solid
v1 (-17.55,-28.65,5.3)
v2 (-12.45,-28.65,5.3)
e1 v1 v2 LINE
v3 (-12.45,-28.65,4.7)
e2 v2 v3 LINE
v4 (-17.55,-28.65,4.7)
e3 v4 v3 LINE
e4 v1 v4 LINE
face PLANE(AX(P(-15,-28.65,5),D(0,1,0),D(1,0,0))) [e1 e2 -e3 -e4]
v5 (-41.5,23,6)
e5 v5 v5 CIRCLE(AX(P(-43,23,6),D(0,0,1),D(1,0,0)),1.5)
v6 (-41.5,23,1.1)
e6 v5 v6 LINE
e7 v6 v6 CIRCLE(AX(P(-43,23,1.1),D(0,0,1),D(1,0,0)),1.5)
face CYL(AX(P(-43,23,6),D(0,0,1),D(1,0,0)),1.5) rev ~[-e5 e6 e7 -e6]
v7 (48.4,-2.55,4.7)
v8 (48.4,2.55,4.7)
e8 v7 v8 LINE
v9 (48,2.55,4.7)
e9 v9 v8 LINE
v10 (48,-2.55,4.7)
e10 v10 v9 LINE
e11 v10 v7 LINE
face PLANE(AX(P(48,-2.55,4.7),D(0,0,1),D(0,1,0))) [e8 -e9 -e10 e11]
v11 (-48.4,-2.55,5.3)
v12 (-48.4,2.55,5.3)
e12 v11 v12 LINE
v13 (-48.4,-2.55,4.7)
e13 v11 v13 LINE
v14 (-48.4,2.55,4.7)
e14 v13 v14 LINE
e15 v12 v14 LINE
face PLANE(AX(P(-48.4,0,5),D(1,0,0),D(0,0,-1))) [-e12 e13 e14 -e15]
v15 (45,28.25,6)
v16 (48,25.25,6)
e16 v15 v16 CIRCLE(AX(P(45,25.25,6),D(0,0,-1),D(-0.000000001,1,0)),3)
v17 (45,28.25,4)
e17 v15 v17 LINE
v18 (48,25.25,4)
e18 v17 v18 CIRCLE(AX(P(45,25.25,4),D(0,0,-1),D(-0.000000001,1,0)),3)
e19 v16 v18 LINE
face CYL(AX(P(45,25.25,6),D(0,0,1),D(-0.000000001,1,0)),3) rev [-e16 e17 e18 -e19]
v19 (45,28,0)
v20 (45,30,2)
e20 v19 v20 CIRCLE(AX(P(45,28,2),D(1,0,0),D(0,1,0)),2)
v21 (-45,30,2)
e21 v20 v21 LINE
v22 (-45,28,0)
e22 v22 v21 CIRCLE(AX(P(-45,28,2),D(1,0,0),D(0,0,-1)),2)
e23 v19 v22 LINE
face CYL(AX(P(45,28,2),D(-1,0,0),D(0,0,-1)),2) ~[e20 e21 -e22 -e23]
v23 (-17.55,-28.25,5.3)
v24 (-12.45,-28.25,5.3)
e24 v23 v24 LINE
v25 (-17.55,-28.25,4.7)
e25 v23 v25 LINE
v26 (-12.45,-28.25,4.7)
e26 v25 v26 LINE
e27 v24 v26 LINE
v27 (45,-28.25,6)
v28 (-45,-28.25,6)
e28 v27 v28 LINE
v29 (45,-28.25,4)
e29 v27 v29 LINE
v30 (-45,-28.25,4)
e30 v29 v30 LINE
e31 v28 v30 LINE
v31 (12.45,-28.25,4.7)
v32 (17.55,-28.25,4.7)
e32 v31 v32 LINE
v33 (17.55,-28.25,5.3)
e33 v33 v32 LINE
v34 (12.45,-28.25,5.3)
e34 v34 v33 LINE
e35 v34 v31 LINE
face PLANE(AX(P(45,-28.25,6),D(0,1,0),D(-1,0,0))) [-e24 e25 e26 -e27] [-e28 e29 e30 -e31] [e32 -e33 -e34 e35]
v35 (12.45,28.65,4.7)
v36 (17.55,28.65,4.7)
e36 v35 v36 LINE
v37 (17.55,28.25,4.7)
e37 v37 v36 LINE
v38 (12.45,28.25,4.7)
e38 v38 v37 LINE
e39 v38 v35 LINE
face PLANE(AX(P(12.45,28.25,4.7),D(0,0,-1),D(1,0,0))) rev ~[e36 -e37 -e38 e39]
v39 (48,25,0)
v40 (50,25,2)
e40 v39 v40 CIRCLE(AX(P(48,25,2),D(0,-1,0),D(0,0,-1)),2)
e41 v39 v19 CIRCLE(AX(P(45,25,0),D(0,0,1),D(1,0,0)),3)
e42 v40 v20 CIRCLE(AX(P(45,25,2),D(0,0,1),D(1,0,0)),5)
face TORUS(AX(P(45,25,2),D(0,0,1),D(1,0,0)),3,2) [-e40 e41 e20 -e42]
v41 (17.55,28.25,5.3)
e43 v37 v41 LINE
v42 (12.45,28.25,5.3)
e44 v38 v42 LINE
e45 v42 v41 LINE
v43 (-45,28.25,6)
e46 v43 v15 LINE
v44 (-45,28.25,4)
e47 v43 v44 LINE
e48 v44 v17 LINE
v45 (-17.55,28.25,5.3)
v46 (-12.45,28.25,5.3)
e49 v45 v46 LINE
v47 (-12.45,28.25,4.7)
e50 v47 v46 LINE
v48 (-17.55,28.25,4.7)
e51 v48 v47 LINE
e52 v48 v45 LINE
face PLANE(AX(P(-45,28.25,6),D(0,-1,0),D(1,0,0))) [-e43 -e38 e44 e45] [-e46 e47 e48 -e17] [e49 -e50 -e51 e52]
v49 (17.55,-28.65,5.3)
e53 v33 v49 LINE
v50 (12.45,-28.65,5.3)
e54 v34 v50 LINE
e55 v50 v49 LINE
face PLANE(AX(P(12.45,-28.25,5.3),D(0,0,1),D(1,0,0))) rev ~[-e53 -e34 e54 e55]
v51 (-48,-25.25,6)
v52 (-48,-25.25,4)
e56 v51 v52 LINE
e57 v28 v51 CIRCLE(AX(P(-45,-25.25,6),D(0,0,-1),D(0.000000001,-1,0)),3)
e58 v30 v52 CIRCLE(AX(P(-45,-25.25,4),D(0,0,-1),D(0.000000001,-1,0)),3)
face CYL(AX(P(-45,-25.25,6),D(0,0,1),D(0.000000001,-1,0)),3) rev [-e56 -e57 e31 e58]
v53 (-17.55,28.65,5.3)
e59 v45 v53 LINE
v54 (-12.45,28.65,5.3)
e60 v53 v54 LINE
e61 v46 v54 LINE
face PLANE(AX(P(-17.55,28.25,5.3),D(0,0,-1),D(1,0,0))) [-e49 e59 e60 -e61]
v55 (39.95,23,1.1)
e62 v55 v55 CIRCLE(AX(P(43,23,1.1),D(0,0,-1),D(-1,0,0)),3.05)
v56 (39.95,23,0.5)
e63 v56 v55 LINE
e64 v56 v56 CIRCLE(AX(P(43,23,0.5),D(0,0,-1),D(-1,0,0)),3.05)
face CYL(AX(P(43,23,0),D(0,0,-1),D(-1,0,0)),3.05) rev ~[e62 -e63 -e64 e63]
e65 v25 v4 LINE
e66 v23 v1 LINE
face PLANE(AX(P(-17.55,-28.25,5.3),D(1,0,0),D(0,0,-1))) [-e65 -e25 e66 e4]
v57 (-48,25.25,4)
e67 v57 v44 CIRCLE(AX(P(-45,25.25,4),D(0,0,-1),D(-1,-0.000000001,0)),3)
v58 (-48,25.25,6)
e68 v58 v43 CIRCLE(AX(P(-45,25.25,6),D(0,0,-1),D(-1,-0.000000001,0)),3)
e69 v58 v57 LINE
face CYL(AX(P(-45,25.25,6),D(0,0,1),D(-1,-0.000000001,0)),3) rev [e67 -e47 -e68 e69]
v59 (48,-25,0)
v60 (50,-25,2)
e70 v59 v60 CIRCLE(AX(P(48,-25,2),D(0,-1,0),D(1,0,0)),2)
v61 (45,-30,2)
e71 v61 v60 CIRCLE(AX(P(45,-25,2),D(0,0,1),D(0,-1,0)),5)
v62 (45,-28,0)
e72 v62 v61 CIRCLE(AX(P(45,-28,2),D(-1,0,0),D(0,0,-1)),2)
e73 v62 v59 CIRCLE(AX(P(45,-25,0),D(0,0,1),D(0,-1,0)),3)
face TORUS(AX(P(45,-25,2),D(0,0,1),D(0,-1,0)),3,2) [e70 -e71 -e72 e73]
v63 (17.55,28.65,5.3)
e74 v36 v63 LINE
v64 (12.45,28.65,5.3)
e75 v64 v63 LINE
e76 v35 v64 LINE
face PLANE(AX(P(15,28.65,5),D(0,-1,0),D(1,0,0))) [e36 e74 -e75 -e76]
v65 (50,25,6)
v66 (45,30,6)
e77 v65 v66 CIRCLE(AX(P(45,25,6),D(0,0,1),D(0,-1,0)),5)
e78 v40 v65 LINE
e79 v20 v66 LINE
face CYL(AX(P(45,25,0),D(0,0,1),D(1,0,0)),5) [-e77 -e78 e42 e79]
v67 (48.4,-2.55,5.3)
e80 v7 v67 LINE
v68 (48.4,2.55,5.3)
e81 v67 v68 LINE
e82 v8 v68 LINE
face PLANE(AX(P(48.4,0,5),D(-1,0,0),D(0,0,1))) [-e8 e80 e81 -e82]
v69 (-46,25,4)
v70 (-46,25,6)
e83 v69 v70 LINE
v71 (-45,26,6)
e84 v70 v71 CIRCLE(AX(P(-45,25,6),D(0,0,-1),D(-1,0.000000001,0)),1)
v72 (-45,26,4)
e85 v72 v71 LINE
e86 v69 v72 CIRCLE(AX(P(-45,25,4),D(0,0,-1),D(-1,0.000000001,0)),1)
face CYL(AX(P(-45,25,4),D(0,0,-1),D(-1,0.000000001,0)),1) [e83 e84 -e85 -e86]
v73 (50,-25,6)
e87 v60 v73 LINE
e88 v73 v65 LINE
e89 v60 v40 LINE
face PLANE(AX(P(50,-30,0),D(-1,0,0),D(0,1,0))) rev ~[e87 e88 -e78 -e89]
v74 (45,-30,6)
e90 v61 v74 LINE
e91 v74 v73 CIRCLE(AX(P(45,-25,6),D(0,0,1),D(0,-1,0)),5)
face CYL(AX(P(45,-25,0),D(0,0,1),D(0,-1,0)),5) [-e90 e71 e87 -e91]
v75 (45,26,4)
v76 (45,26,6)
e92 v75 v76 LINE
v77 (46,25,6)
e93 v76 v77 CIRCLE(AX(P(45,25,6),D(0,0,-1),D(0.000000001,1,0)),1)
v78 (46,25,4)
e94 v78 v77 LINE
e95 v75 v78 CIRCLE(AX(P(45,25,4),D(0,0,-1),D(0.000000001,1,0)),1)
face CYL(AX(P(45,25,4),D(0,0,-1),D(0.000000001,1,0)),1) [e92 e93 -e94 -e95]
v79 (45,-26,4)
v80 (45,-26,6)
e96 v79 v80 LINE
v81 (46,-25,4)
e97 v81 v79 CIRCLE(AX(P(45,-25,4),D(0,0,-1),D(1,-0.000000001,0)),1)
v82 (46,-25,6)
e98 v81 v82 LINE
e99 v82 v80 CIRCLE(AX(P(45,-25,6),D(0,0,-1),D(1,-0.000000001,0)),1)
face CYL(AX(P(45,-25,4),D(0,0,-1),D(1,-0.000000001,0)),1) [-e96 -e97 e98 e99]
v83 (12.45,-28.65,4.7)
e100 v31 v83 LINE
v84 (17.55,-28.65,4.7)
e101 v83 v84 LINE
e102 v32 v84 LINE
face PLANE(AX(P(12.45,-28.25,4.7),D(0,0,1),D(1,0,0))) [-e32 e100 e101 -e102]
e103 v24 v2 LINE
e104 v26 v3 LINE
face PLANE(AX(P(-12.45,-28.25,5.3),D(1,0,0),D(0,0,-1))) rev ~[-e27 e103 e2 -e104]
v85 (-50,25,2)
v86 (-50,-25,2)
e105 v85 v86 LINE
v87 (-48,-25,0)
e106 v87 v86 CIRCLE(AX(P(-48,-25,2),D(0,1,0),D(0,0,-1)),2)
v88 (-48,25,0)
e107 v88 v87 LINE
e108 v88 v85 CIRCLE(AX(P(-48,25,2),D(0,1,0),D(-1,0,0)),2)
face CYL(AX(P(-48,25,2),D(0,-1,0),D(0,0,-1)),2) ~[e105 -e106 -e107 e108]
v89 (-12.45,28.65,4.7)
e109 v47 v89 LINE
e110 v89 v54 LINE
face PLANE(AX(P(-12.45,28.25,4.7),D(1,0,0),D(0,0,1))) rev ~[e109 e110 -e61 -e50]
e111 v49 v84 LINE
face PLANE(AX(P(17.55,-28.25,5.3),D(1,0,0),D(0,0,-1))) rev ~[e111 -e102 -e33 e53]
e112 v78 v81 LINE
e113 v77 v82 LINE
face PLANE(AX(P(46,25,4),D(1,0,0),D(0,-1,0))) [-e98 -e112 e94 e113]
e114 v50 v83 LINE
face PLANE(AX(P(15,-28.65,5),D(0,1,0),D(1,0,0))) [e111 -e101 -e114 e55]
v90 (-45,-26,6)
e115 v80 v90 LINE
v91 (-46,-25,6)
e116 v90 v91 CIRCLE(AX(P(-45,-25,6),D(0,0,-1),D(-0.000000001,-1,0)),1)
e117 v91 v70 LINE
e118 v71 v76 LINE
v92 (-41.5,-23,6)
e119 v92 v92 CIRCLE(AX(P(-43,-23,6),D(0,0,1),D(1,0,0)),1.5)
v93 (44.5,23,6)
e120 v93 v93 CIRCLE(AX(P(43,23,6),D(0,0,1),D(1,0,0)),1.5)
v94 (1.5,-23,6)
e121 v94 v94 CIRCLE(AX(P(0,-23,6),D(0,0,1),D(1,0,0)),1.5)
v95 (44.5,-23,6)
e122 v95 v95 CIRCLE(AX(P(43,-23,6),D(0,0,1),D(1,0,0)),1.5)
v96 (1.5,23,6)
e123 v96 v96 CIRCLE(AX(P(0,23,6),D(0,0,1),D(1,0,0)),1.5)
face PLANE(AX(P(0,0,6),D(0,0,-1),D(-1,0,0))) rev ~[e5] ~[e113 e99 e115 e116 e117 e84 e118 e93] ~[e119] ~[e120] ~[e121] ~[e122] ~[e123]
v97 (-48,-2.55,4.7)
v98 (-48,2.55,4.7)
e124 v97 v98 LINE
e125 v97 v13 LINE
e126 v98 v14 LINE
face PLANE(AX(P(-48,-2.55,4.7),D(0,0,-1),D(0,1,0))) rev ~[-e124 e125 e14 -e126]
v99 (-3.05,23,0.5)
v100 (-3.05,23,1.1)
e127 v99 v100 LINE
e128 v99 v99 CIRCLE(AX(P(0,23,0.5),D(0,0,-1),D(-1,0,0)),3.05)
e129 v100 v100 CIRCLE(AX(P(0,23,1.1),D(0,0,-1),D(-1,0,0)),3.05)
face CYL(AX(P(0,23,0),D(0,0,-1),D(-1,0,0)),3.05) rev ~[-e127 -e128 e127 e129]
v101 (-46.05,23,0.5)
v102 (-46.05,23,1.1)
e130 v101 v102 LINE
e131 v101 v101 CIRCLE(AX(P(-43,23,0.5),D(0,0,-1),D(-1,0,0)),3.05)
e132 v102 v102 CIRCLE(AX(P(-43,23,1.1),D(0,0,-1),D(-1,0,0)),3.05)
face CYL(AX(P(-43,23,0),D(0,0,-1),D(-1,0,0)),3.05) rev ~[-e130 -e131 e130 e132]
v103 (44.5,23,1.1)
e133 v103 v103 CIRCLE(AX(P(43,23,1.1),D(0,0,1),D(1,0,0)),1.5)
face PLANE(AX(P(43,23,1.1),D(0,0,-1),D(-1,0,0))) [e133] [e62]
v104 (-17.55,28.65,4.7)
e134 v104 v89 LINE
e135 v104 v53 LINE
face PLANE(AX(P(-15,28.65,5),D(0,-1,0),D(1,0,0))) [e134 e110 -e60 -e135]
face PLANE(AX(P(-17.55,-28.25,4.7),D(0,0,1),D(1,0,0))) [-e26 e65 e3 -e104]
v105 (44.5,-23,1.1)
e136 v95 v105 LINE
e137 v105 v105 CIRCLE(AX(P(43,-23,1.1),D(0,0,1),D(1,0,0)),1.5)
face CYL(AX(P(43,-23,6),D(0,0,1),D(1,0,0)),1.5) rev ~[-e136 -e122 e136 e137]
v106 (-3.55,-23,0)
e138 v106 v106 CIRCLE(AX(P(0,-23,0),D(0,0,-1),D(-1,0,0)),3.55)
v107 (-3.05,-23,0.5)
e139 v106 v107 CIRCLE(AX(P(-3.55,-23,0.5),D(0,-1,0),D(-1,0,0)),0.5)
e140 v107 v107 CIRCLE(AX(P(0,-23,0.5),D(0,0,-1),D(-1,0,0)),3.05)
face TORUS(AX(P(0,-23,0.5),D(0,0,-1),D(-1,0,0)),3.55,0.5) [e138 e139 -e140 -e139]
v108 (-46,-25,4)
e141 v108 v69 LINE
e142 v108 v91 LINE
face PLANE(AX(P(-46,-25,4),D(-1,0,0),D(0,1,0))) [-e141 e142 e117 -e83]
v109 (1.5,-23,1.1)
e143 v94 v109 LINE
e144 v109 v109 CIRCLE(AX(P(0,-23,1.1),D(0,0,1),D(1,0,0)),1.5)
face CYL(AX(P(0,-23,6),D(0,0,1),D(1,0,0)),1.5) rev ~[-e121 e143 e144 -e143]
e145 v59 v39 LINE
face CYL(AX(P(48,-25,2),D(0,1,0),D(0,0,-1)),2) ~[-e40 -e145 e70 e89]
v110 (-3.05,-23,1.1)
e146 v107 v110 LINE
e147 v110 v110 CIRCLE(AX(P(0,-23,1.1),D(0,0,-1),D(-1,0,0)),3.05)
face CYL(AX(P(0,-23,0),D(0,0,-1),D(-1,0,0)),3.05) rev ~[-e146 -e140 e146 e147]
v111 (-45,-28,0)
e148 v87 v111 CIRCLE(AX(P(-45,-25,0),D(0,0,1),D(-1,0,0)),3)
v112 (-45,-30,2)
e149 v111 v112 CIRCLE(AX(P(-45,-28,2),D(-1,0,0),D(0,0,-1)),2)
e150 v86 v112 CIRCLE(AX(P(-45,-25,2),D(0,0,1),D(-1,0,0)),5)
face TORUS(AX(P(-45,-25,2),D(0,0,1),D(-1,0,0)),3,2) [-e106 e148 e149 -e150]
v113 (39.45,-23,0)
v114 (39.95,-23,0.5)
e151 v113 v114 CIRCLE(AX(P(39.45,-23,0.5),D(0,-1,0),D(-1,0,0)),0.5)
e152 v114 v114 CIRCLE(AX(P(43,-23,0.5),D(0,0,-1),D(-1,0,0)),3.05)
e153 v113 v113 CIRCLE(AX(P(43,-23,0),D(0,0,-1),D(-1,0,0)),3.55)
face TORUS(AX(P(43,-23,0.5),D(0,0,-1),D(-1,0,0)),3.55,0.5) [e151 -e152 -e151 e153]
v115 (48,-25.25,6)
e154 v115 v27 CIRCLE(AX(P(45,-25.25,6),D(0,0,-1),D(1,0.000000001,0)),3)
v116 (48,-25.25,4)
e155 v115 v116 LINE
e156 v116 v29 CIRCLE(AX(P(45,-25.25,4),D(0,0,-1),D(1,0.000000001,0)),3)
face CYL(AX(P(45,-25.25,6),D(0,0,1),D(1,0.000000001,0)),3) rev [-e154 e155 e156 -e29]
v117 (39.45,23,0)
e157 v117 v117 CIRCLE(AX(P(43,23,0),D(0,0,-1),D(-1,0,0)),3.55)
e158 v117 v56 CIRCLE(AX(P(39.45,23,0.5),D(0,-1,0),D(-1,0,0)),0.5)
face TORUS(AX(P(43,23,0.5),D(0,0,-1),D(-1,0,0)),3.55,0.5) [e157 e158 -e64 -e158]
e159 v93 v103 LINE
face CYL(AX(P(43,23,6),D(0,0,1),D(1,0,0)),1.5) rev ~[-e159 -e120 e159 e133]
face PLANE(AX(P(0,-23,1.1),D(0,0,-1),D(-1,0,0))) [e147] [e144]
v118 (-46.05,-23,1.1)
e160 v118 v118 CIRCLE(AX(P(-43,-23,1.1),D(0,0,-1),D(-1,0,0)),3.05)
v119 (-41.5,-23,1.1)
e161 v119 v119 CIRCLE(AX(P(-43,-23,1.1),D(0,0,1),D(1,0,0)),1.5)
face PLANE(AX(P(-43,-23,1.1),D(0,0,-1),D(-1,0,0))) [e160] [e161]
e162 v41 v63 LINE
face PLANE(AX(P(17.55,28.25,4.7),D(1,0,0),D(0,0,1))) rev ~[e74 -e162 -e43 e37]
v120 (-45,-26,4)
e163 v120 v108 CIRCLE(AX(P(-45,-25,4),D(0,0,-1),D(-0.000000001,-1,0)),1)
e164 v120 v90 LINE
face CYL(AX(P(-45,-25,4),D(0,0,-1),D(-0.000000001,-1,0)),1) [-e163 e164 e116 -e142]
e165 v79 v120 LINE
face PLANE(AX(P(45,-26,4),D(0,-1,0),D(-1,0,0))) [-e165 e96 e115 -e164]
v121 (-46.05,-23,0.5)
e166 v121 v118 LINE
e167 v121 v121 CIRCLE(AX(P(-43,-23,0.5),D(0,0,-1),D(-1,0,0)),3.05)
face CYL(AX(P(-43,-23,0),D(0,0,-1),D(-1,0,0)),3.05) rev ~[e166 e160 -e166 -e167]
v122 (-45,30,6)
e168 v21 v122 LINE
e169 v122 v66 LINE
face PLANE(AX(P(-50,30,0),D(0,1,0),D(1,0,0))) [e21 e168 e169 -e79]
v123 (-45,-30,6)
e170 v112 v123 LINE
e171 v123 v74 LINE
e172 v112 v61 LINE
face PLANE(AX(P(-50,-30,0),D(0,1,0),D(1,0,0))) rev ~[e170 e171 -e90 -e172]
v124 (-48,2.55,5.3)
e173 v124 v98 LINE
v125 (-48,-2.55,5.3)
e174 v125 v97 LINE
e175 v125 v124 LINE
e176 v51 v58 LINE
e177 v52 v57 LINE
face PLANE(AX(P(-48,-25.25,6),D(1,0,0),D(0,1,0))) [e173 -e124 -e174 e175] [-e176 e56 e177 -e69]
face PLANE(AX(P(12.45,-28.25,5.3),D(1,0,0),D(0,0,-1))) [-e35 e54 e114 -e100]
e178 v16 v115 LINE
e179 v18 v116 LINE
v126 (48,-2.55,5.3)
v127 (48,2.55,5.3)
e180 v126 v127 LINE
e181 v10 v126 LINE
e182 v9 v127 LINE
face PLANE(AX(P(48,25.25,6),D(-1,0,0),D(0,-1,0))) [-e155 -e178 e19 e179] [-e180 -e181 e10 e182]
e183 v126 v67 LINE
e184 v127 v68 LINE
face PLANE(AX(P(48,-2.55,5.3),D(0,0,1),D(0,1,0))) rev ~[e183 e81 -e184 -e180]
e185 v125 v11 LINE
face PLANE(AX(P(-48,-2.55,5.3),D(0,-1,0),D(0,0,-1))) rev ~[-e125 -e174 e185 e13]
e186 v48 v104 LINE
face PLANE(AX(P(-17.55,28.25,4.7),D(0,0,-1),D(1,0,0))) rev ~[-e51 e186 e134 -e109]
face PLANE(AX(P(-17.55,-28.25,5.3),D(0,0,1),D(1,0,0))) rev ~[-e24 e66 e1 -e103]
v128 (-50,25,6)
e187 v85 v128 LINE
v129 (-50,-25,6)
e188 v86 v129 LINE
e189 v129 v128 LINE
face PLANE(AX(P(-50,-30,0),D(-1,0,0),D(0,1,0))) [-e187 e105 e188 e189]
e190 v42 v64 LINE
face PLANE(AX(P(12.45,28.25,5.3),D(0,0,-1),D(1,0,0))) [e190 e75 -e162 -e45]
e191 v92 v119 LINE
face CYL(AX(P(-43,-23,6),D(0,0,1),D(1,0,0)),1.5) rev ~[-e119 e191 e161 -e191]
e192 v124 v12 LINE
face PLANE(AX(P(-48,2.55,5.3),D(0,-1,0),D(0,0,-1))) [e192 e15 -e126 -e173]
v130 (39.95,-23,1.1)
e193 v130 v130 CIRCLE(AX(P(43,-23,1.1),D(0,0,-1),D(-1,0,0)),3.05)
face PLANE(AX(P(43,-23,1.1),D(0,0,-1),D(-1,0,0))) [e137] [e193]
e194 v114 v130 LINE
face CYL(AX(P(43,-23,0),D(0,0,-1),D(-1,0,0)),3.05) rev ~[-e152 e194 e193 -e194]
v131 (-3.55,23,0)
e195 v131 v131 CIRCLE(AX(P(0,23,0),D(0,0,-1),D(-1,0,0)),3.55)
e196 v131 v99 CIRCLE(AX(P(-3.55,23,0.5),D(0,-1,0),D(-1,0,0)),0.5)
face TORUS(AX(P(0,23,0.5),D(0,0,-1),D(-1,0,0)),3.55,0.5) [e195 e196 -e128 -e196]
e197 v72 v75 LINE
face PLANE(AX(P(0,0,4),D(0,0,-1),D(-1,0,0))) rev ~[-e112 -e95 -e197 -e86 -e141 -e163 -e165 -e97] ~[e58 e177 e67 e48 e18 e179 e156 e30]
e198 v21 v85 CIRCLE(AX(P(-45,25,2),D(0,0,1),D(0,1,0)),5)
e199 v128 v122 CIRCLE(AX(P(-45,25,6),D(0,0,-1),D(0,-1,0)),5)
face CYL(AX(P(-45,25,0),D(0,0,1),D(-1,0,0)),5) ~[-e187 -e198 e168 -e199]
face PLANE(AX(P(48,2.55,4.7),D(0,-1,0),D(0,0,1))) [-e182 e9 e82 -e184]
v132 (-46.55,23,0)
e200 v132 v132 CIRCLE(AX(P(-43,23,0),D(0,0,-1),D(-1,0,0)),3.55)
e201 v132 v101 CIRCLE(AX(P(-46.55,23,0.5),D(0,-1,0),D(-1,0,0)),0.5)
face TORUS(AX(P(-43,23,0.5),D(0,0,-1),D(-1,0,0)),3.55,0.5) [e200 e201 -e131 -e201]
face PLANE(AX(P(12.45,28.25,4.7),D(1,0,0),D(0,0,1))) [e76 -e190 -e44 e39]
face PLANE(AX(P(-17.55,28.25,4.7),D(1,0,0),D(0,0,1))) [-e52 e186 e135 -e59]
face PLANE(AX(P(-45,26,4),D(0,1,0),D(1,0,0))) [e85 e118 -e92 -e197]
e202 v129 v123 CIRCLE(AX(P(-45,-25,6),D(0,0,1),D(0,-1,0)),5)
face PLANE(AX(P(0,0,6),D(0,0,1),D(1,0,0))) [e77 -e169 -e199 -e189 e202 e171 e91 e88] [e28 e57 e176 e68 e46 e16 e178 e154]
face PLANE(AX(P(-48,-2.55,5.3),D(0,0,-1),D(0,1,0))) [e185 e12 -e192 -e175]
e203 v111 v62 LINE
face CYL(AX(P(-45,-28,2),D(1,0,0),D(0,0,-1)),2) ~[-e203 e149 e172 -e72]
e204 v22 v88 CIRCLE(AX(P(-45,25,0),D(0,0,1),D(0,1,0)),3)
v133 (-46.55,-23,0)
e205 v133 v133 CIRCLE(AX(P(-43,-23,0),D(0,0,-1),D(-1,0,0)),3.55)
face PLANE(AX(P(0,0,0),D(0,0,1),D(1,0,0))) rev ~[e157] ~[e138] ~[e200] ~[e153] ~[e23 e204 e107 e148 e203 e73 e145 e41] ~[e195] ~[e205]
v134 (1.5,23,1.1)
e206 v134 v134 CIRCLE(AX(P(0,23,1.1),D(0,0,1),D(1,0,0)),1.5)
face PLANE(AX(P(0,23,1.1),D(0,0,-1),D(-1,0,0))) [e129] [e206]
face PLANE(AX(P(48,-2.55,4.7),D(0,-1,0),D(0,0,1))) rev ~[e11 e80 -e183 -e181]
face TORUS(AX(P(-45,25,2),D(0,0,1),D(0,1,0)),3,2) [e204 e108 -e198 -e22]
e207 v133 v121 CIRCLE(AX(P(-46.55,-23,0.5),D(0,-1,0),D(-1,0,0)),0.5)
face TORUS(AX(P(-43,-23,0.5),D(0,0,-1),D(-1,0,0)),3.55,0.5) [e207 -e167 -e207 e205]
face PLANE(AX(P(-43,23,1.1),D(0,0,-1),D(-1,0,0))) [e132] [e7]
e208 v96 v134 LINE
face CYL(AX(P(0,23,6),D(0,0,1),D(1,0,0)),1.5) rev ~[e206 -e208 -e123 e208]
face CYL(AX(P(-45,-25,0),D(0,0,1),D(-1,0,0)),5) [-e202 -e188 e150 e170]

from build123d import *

# Parameters (mm, degrees)
SKETCH_1_W          = 100
SKETCH_1_H          = 60
EXTRUDE_1_DEPTH     = 6
FILLET_1_R          = 5
FILLET_2_R          = 2
CUT_EXTRUDE_1_DEPTH = 2
SKETCH_4_W          = 5.1
SKETCH_4_H          = 0.6
CUT_EXTRUDE_2_DEPTH = 0.4
SKETCH_5_W          = 5.1
SKETCH_5_H          = 0.6
CUT_EXTRUDE_3_DEPTH = 0.4
SKETCH_6_W          = 0.6
SKETCH_6_H          = 5.1
CUT_EXTRUDE_4_DEPTH = 0.4
SKETCH_7_W          = 0.6
SKETCH_7_H          = 5.1
CUT_EXTRUDE_5_DEPTH = 0.4
EXTRUDE_2_DEPTH     = 2
CUT_EXTRUDE_6_REACH = 8
SKETCH_9_R          = 1.5
SKETCH_10_R         = 3.05
CUT_EXTRUDE_7_DEPTH = 1.1
FILLET_3_R          = 0.5


with BuildPart() as part:
    # 草图1 → 凸台-拉伸1 (new body)
    with BuildSketch(Plane.XY):
        Rectangle(SKETCH_1_W, SKETCH_1_H)
    extrude(amount=EXTRUDE_1_DEPTH)

    # 圆角1
    fillet_1_edges = [part.edges().sort_by_distance(p)[0] for p in [
        (-50, 30, 3),
        (50, 30, 3),
        (50, -30, 3),
        (-50, -30, 3),
    ]]
    fillet(fillet_1_edges, radius=FILLET_1_R)

    # 圆角2
    fillet_2_edges = [part.edges().sort_by_distance(p)[0] for p in [
        (0, -30, 0),
        (-50, 0, 0),
        (0, 30, 0),
        (50, 0, 0),
        (-48.535533906, 28.535533906, 0),
        (48.535533906, 28.535533906, 0),
        (48.535533906, -28.535533906, 0),
        (-48.535533906, -28.535533906, 0),
    ]]
    fillet(fillet_2_edges, radius=FILLET_2_R)

    # 草图2 → 切除-拉伸1 (cut)
    with BuildSketch(Plane.XY.offset(6)):
        with BuildLine():
            Line((-45, 28.25), (45, 28.25))
            ThreePointArc((45, 28.25), (47.121320344, 27.371320344), (48, 25.25))
            Line((48, 25.25), (48, -25.25))
            ThreePointArc((48, -25.25), (47.121320344, -27.371320344), (45, -28.25))
            Line((45, -28.25), (-45, -28.25))
            ThreePointArc((-45, -28.25), (-47.121320344, -27.371320344), (-48, -25.25))
            Line((-48, -25.25), (-48, 25.25))
            ThreePointArc((-48, 25.25), (-47.121320344, 27.371320344), (-45, 28.25))
        make_face()
    extrude(amount=-CUT_EXTRUDE_1_DEPTH, mode=Mode.SUBTRACT)

    # 草图4 → 切除-拉伸2 (cut)
    with BuildSketch(Plane(origin=(0, -28.25, 0), x_dir=(1, 0, 0), z_dir=(0, 1, 0))):
        with Locations((15, -5)):
            Rectangle(SKETCH_4_W, SKETCH_4_H)
        with Locations((-15, -5)):
            Rectangle(SKETCH_4_W, SKETCH_4_H)
    extrude(amount=-CUT_EXTRUDE_2_DEPTH, mode=Mode.SUBTRACT)

    # 草图5 → 切除-拉伸3 (cut)
    with BuildSketch(Plane.XZ.offset(-28.25)):
        with Locations((-15, 5)):
            Rectangle(SKETCH_5_W, SKETCH_5_H)
        with Locations((15, 5)):
            Rectangle(SKETCH_5_W, SKETCH_5_H)
    extrude(amount=-CUT_EXTRUDE_3_DEPTH, mode=Mode.SUBTRACT)

    # 草图6 → 切除-拉伸4 (cut)
    with BuildSketch(Plane(origin=(-48, 0, 0), x_dir=(0, 0, -1), z_dir=(1, 0, 0))):
        with Locations((-5, 0)):
            Rectangle(SKETCH_6_W, SKETCH_6_H)
    extrude(amount=-CUT_EXTRUDE_4_DEPTH, mode=Mode.SUBTRACT)

    # 草图7 → 切除-拉伸5 (cut)
    with BuildSketch(Plane.ZY.offset(-48)):
        with Locations((5, 0)):
            Rectangle(SKETCH_7_W, SKETCH_7_H)
    extrude(amount=-CUT_EXTRUDE_5_DEPTH, mode=Mode.SUBTRACT)

    # 草图8 → 凸台-拉伸2 (add)
    with BuildSketch(Plane.XY.offset(4)):
        with BuildLine():
            Line((45, -26), (-45, -26))
            ThreePointArc((-45, -26), (-45.707106781, -25.707106781), (-46, -25))
            Line((-46, -25), (-46, 25))
            ThreePointArc((-46, 25), (-45.707106781, 25.707106781), (-45, 26))
            Line((-45, 26), (45, 26))
            ThreePointArc((45, 26), (45.707106781, 25.707106781), (46, 25))
            Line((46, 25), (46, -25))
            ThreePointArc((46, -25), (45.707106781, -25.707106781), (45, -26))
        make_face()
    extrude(amount=EXTRUDE_2_DEPTH)

    # 草图9 → 切除-拉伸6 (cut, up to next)
    with BuildSketch(Plane.XY.offset(6), mode=Mode.PRIVATE) as cut_extrude_6_sk1:
        with Locations((43, 23)):
            Circle(SKETCH_9_R)
    cut_extrude_6_tool1 = extrude(cut_extrude_6_sk1.sketch, amount=-CUT_EXTRUDE_6_REACH, mode=Mode.PRIVATE) & part.part
    add(cut_extrude_6_tool1.solids().sort_by_distance((43, 23, 6))[0], mode=Mode.SUBTRACT)
    # 草图9 → 切除-拉伸6 (cut, up to next)
    with BuildSketch(Plane.XY.offset(6), mode=Mode.PRIVATE) as cut_extrude_6_sk2:
        with Locations((0, 23)):
            Circle(SKETCH_9_R)
    cut_extrude_6_tool2 = extrude(cut_extrude_6_sk2.sketch, amount=-CUT_EXTRUDE_6_REACH, mode=Mode.PRIVATE) & part.part
    add(cut_extrude_6_tool2.solids().sort_by_distance((0, 23, 6))[0], mode=Mode.SUBTRACT)
    # 草图9 → 切除-拉伸6 (cut, up to next)
    with BuildSketch(Plane.XY.offset(6), mode=Mode.PRIVATE) as cut_extrude_6_sk3:
        with Locations((-43, 23)):
            Circle(SKETCH_9_R)
    cut_extrude_6_tool3 = extrude(cut_extrude_6_sk3.sketch, amount=-CUT_EXTRUDE_6_REACH, mode=Mode.PRIVATE) & part.part
    add(cut_extrude_6_tool3.solids().sort_by_distance((-43, 23, 6))[0], mode=Mode.SUBTRACT)
    # 草图9 → 切除-拉伸6 (cut, up to next)
    with BuildSketch(Plane.XY.offset(6), mode=Mode.PRIVATE) as cut_extrude_6_sk4:
        with Locations((-43, -23)):
            Circle(SKETCH_9_R)
    cut_extrude_6_tool4 = extrude(cut_extrude_6_sk4.sketch, amount=-CUT_EXTRUDE_6_REACH, mode=Mode.PRIVATE) & part.part
    add(cut_extrude_6_tool4.solids().sort_by_distance((-43, -23, 6))[0], mode=Mode.SUBTRACT)
    # 草图9 → 切除-拉伸6 (cut, up to next)
    with BuildSketch(Plane.XY.offset(6), mode=Mode.PRIVATE) as cut_extrude_6_sk5:
        with Locations((0, -23)):
            Circle(SKETCH_9_R)
    cut_extrude_6_tool5 = extrude(cut_extrude_6_sk5.sketch, amount=-CUT_EXTRUDE_6_REACH, mode=Mode.PRIVATE) & part.part
    add(cut_extrude_6_tool5.solids().sort_by_distance((0, -23, 6))[0], mode=Mode.SUBTRACT)
    # 草图9 → 切除-拉伸6 (cut, up to next)
    with BuildSketch(Plane.XY.offset(6), mode=Mode.PRIVATE) as cut_extrude_6_sk6:
        with Locations((43, -23)):
            Circle(SKETCH_9_R)
    cut_extrude_6_tool6 = extrude(cut_extrude_6_sk6.sketch, amount=-CUT_EXTRUDE_6_REACH, mode=Mode.PRIVATE) & part.part
    add(cut_extrude_6_tool6.solids().sort_by_distance((43, -23, 6))[0], mode=Mode.SUBTRACT)

    # 草图10 → 切除-拉伸7 (cut)
    with BuildSketch(Plane(origin=(0, 0, 0), x_dir=(-1, 0, 0), z_dir=(0, 0, -1))):
        with Locations((43, 23)):
            Circle(SKETCH_10_R)
        with Locations((0, 23)):
            Circle(SKETCH_10_R)
        with Locations((-43, 23)):
            Circle(SKETCH_10_R)
        with Locations((-43, -23)):
            Circle(SKETCH_10_R)
        with Locations((0, -23)):
            Circle(SKETCH_10_R)
        with Locations((43, -23)):
            Circle(SKETCH_10_R)
    extrude(amount=-CUT_EXTRUDE_7_DEPTH, mode=Mode.SUBTRACT)

    # 圆角3
    fillet_3_edges = [part.edges().sort_by_distance(p)[0] for p in [
        (-39.95, -23, 0),
        (3.05, -23, 0),
        (46.05, -23, 0),
        (46.05, 23, 0),
        (3.05, 23, 0),
        (-39.95, 23, 0),
    ]]
    fillet(fillet_3_edges, radius=FILLET_3_R)


solid = part.part
